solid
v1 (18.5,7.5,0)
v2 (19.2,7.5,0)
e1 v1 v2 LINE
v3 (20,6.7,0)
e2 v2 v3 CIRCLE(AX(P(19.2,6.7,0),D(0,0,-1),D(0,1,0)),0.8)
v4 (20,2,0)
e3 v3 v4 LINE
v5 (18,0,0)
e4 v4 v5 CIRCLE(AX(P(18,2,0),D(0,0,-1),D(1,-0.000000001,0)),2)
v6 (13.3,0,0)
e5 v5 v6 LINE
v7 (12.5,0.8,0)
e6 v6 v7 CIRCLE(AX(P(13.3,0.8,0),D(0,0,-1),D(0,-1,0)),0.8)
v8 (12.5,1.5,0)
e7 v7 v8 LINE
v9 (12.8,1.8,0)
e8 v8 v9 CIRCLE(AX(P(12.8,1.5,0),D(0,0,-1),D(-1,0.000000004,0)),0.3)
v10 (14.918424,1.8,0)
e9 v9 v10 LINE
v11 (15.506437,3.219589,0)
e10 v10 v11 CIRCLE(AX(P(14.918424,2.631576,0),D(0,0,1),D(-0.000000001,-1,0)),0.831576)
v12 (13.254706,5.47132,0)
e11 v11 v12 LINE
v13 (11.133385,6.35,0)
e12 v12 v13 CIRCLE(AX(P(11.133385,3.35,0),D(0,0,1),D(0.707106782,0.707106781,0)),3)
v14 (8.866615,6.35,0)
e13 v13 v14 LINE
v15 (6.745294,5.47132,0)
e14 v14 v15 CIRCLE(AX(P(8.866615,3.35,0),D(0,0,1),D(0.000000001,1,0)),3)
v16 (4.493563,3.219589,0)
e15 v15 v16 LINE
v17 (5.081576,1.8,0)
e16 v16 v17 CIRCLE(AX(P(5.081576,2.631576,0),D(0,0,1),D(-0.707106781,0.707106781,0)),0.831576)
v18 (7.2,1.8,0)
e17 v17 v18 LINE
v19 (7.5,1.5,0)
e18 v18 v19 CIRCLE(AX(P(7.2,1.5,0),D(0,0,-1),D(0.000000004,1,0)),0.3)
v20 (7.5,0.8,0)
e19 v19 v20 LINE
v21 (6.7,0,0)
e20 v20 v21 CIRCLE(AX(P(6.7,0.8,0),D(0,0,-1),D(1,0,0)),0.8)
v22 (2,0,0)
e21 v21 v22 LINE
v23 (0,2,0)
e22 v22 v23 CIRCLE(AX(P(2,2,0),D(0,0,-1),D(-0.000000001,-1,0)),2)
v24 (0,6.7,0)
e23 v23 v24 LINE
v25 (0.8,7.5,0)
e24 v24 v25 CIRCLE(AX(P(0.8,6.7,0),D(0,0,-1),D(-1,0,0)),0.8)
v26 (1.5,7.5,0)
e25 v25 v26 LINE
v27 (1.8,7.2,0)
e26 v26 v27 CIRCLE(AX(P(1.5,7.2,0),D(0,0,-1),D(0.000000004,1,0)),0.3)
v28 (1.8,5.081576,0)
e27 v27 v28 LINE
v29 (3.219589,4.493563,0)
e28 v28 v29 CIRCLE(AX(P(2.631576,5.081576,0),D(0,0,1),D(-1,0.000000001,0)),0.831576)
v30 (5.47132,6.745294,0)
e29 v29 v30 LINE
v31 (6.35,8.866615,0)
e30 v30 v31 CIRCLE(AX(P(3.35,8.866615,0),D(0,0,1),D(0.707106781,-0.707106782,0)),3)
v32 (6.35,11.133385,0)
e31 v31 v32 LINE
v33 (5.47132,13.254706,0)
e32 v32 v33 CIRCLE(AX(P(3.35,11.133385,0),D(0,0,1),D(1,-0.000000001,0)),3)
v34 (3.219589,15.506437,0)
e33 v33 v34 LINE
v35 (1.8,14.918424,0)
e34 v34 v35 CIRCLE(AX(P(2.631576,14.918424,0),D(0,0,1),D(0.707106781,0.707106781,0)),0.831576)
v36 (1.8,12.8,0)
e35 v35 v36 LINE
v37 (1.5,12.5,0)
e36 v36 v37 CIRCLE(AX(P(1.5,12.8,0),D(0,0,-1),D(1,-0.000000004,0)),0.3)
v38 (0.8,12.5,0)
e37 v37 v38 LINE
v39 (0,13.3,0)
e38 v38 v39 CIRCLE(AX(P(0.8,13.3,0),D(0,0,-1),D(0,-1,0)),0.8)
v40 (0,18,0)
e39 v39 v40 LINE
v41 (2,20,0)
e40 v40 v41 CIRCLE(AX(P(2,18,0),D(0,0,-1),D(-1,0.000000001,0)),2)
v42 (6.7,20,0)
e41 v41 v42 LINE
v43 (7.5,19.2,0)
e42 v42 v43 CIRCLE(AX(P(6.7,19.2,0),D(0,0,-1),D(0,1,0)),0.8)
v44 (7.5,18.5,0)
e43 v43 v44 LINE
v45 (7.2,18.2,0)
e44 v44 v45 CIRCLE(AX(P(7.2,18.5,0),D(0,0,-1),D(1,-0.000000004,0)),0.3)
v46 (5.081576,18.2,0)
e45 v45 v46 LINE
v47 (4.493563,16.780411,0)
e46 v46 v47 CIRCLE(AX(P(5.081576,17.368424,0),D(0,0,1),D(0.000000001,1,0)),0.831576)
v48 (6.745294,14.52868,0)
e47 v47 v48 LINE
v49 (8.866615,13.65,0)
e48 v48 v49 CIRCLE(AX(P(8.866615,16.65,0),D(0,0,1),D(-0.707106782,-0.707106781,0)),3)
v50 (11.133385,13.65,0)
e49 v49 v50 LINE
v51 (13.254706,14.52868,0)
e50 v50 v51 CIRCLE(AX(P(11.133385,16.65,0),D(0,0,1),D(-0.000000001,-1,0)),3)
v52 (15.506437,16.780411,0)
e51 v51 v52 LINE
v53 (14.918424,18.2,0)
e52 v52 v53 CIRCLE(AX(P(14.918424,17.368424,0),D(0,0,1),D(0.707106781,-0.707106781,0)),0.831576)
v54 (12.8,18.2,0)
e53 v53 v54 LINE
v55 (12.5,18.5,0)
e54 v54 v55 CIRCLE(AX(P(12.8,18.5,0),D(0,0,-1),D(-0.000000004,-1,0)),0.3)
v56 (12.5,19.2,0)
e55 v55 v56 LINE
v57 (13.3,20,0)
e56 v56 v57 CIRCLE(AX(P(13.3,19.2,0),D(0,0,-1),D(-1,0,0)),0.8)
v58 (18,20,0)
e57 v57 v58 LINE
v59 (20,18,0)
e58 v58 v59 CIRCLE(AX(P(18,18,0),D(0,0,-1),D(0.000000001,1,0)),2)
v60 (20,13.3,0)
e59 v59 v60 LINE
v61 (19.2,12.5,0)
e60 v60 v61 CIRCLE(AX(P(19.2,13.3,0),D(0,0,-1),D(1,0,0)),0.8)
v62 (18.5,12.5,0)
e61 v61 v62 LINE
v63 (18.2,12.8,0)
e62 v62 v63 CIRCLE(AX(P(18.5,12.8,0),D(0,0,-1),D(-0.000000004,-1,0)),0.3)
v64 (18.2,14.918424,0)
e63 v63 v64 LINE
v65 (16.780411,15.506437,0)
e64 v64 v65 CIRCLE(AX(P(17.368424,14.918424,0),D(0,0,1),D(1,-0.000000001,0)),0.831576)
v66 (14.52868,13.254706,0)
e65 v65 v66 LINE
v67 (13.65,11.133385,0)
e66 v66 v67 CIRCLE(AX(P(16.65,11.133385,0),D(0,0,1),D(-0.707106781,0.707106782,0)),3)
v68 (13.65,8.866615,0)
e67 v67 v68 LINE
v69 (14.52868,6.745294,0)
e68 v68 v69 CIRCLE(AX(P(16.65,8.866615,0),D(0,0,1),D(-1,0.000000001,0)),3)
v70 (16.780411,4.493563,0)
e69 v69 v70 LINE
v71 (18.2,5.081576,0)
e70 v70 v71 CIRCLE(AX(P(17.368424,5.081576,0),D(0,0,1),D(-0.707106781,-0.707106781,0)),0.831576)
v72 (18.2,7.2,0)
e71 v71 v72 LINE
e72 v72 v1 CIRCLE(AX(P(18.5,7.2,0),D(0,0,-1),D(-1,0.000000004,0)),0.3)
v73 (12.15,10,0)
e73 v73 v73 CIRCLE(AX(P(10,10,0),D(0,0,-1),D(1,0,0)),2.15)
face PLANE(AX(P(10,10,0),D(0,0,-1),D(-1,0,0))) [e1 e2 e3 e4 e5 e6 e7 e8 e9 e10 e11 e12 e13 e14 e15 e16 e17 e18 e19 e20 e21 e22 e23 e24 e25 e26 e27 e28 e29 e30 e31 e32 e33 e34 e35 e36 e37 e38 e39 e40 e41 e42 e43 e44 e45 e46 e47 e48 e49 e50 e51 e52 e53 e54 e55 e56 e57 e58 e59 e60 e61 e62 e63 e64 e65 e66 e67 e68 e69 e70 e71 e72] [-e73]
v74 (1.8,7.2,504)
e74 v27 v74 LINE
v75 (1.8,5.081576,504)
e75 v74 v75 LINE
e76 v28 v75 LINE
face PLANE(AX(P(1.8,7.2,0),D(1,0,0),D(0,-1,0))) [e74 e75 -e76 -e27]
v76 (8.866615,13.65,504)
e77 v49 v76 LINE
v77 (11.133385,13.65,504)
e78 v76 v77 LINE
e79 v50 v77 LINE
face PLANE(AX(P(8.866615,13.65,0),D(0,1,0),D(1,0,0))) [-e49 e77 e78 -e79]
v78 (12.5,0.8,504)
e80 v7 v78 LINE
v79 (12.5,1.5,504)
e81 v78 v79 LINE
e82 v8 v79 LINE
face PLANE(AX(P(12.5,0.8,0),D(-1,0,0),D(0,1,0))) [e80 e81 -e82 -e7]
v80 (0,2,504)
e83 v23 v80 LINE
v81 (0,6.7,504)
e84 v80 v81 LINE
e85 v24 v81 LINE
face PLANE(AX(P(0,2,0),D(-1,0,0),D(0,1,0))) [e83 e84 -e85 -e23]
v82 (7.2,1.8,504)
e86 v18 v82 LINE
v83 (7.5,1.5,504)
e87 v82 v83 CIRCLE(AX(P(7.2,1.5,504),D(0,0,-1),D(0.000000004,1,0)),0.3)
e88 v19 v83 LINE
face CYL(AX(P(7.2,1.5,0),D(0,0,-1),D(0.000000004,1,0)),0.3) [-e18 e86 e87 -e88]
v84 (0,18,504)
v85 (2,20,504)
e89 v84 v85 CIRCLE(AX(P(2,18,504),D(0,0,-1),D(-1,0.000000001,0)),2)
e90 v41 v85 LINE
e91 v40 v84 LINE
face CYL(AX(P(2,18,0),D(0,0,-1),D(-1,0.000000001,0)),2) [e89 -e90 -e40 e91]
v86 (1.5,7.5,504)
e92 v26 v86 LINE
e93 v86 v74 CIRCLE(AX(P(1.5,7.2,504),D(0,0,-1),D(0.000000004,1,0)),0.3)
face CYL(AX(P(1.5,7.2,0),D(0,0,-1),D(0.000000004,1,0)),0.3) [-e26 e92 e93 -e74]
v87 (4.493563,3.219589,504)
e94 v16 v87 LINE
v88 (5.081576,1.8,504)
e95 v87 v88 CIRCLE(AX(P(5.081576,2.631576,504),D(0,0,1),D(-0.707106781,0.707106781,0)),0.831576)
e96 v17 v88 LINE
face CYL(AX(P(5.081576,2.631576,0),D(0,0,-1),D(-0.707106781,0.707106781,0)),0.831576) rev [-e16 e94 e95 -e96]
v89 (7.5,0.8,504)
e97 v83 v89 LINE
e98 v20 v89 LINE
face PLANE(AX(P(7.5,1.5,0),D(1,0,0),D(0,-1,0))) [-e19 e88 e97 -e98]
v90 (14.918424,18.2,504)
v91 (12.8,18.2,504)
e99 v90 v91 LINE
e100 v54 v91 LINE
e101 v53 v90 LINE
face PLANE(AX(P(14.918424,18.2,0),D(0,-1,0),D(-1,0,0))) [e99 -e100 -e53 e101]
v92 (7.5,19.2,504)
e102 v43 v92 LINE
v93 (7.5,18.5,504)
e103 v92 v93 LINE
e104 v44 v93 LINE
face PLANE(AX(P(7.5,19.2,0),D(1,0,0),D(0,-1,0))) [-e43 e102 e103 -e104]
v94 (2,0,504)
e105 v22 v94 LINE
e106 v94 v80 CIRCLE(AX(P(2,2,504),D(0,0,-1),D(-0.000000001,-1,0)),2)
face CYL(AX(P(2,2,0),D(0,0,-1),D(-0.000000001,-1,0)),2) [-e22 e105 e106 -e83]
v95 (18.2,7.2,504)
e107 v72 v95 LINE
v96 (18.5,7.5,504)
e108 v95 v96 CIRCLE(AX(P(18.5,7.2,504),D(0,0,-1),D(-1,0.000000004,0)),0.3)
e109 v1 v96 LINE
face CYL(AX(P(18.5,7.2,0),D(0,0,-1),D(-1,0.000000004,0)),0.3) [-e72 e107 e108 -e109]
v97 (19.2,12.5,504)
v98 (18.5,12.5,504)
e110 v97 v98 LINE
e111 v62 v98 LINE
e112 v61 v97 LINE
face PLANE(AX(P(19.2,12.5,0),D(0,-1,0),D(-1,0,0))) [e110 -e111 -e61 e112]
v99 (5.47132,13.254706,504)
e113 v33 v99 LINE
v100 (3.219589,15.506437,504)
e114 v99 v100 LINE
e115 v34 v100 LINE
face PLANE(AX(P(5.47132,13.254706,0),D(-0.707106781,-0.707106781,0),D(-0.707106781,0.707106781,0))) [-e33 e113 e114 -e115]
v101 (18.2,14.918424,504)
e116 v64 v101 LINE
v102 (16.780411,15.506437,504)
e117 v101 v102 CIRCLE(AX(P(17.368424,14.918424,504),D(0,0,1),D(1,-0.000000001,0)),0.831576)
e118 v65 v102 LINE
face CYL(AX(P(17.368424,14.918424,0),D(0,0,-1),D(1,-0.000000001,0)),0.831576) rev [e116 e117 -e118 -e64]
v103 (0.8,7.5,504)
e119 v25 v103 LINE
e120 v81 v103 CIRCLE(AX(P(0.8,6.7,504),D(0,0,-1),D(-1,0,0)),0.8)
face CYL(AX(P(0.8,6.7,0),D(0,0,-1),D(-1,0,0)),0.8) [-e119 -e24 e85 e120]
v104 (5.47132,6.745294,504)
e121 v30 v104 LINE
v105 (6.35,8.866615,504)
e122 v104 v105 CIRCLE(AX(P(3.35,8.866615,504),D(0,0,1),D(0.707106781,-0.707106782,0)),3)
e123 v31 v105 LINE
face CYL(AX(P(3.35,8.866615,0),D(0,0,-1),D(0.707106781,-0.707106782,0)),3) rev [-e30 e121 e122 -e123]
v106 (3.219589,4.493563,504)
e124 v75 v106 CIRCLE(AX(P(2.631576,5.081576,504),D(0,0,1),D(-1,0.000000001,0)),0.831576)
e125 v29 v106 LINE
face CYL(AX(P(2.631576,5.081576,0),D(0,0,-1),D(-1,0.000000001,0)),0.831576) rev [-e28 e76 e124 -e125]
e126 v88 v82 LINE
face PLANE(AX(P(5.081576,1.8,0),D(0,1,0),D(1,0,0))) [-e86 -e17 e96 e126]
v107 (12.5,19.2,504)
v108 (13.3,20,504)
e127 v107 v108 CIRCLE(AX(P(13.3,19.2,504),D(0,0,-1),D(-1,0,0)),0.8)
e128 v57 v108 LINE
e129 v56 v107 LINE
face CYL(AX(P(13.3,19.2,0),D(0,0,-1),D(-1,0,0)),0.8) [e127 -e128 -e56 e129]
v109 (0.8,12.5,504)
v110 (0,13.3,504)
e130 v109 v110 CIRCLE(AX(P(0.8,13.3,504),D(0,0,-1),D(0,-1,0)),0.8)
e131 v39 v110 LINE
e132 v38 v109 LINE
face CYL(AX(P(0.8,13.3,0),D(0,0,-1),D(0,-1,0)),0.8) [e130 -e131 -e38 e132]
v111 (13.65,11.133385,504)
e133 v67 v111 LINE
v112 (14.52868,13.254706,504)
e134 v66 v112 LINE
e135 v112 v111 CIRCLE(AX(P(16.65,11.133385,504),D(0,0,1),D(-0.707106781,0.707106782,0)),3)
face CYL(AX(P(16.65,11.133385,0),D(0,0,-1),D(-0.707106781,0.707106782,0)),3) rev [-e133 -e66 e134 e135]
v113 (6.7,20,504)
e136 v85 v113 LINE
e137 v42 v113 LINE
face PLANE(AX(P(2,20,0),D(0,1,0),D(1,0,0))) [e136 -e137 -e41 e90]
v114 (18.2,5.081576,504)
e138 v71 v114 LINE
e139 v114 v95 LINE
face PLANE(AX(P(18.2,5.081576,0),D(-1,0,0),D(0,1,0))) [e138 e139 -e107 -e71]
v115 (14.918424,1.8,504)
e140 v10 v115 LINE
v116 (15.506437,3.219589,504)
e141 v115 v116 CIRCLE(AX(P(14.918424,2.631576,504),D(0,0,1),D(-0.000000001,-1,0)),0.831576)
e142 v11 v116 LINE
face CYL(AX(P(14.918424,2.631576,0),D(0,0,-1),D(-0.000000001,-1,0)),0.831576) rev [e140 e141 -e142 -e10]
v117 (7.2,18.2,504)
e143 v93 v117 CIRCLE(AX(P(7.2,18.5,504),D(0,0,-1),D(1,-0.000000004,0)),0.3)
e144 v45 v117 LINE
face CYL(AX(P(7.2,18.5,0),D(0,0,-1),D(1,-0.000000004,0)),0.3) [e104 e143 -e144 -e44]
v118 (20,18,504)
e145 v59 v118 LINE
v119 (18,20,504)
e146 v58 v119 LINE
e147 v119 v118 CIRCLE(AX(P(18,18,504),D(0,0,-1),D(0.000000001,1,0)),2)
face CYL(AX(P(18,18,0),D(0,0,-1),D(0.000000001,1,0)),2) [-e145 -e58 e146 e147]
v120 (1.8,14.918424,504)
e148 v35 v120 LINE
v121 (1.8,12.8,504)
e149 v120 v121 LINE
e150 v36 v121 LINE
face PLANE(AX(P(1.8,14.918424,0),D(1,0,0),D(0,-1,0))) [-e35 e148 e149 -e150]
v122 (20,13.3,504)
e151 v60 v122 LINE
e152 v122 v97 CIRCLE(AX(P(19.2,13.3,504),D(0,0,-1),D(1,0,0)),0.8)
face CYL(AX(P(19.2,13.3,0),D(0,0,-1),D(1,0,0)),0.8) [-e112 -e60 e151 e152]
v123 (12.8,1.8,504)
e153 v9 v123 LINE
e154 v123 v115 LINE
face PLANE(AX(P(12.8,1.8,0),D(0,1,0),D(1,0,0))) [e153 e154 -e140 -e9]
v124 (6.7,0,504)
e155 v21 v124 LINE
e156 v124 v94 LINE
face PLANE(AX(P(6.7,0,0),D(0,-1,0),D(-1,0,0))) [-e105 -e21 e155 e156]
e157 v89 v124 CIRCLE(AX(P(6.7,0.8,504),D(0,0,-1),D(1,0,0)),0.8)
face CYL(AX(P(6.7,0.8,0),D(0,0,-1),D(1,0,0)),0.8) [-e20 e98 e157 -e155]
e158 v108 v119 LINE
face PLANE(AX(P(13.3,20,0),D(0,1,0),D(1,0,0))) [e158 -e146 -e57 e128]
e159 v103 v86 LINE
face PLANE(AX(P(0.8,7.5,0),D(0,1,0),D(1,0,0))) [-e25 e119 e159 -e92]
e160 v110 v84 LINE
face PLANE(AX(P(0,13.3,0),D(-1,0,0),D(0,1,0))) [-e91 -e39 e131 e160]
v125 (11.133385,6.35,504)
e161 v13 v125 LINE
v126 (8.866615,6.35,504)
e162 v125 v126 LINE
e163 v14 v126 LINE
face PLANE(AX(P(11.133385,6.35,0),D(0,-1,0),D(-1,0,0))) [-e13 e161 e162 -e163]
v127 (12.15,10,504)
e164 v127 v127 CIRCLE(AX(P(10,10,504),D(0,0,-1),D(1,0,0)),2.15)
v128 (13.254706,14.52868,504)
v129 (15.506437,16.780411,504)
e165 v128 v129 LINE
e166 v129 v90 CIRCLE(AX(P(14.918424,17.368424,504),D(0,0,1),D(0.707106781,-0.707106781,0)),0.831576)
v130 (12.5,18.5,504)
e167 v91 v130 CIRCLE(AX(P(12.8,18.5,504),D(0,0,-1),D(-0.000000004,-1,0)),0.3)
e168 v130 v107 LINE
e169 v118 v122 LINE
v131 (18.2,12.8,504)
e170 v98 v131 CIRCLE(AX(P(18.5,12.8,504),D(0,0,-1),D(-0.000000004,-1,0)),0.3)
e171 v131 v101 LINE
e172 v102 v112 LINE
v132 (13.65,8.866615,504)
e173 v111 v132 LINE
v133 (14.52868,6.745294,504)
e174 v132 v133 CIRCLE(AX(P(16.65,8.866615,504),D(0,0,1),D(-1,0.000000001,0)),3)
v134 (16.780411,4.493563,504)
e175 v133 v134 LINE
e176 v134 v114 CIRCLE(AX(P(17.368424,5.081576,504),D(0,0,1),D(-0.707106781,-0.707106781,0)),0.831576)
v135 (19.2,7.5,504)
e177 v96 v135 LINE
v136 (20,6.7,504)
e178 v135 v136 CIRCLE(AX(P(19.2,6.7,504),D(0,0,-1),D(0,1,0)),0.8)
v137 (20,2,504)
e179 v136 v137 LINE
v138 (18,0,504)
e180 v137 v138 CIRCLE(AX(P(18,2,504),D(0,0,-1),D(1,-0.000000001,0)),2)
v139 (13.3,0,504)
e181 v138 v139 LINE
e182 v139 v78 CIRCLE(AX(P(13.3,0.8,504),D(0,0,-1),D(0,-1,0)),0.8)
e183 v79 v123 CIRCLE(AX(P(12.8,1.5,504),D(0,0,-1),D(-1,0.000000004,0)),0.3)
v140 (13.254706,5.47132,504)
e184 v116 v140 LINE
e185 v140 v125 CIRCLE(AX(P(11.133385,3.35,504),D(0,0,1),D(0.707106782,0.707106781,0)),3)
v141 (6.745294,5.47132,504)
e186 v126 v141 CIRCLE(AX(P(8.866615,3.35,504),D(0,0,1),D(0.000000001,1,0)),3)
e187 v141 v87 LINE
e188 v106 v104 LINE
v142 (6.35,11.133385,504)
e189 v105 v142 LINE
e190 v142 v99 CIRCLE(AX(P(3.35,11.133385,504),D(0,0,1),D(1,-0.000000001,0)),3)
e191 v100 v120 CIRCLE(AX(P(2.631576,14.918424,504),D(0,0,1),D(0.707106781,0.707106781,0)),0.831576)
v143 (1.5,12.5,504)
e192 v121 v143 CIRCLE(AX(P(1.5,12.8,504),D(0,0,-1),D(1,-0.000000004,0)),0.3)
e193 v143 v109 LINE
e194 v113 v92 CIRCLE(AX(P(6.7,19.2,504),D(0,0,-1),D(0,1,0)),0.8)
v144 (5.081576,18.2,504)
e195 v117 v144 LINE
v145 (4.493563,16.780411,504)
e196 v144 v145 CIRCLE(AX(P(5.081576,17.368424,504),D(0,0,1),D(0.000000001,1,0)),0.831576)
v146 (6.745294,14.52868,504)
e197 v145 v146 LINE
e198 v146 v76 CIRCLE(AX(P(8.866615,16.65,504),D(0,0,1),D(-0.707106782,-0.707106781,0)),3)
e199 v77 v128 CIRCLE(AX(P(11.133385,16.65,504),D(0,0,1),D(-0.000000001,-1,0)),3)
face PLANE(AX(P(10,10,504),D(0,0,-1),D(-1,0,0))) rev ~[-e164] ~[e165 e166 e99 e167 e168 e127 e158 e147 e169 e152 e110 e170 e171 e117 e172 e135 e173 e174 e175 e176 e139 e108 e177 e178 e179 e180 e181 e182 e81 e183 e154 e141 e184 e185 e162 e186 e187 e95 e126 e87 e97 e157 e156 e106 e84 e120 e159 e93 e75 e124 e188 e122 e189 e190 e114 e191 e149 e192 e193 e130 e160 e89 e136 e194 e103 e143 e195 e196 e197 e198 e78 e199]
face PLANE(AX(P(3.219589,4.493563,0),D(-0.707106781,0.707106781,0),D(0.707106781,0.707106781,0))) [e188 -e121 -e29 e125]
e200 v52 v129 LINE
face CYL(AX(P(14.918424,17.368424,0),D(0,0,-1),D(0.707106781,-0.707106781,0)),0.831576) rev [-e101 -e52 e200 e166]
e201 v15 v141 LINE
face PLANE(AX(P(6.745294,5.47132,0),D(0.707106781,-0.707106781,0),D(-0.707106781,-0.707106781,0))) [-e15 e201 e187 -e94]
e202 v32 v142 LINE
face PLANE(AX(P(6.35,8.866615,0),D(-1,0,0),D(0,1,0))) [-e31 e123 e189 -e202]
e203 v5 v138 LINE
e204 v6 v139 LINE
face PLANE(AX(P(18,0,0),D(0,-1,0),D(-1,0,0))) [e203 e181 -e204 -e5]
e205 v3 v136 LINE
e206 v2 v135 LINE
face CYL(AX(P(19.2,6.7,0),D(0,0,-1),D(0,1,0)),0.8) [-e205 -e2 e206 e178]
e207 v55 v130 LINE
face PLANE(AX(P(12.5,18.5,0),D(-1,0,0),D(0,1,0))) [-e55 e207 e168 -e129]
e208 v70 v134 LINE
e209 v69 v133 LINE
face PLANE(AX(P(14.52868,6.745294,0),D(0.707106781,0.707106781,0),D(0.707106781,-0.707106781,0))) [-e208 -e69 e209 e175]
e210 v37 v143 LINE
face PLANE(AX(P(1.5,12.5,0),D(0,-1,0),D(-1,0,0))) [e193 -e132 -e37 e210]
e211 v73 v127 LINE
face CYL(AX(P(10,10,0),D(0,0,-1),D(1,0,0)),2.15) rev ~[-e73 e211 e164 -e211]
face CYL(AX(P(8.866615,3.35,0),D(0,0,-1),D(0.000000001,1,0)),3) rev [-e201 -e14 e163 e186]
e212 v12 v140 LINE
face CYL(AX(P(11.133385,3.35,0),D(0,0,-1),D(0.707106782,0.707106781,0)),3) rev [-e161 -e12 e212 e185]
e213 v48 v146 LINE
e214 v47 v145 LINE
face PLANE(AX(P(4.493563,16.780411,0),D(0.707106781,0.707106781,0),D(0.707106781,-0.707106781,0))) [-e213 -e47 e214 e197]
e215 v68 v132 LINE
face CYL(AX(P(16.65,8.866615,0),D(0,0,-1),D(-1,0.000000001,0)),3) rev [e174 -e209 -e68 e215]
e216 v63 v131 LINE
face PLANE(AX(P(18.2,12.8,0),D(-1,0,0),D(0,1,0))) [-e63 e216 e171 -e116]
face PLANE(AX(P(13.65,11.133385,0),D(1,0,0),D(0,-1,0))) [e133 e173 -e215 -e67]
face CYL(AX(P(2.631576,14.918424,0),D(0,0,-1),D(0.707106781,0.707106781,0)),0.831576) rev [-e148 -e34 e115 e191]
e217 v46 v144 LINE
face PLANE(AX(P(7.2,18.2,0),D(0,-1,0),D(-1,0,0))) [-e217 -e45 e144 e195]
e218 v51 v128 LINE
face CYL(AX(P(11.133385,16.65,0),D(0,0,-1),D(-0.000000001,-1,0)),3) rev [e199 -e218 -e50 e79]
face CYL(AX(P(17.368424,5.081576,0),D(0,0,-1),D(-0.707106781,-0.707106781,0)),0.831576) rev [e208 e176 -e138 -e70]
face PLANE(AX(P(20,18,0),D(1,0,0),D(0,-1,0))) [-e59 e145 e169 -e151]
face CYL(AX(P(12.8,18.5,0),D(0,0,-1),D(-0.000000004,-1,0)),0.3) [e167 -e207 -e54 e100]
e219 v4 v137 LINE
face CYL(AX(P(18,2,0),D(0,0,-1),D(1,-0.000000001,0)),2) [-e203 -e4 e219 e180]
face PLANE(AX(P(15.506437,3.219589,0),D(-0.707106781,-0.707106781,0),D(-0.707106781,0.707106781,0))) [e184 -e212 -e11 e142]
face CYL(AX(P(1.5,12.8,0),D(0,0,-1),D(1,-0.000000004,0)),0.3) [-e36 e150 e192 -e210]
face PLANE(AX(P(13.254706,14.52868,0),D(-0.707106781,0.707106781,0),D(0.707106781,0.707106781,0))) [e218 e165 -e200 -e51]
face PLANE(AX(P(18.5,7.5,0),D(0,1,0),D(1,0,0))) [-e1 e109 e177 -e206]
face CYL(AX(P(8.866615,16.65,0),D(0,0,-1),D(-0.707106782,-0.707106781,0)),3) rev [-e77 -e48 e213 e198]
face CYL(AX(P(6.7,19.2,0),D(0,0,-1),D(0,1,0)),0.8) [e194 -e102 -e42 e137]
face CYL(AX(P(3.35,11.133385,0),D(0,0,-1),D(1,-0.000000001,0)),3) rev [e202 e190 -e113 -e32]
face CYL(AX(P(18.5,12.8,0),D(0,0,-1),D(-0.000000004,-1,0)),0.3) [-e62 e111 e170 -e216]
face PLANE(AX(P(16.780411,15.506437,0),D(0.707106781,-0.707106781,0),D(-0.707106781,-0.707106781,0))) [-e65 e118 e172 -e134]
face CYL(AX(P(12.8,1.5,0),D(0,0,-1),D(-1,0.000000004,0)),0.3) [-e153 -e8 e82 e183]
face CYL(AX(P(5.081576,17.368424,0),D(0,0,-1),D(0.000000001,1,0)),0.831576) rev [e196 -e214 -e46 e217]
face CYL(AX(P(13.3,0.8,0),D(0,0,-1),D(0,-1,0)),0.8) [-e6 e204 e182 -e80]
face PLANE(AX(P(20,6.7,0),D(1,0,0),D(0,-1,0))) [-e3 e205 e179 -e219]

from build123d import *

# Parameters (mm, degrees)
ESQUISSE1_R        = 2.15
BOSS_EXTRU_1_DEPTH = 504


with BuildPart() as part:
    # Esquisse1 → Boss.-Extru.1 (new body)
    with BuildSketch(Plane(origin=(0, 0, 0), x_dir=(-1, 0, 0), z_dir=(0, 0, -1))):
        with BuildLine():
            Line((-20, 6.7), (-20, 2))
            ThreePointArc((-20, 2), (-19.414213562, 0.585786438), (-18, 0))
            Line((-18, 0), (-13.3, 0))
            ThreePointArc((-13.3, 0), (-12.734314575, 0.234314575), (-12.5, 0.8))
            Line((-12.5, 0.8), (-12.5, 1.5))
            ThreePointArc((-12.5, 1.5), (-12.587867966, 1.712132034), (-12.8, 1.8))
            Line((-12.8, 1.8), (-14.918424061, 1.8))
            ThreePointArc((-14.918424061, 1.8), (-15.686700051, 2.313345604), (-15.506437047, 3.219588924))
            Line((-15.506437047, 3.219588924), (-13.254705627, 5.471320344))
            ThreePointArc((-13.254705627, 5.471320344), (-12.281435581, 6.121638598), (-11.133385284, 6.35))
            Line((-11.133385284, 6.35), (-8.866614716, 6.35))
            ThreePointArc((-8.866614716, 6.35), (-7.718564419, 6.121638598), (-6.745294373, 5.471320344))
            Line((-6.745294373, 5.471320344), (-4.493562953, 3.219588924))
            ThreePointArc((-4.493562953, 3.219588924), (-4.313299949, 2.313345604), (-5.081575939, 1.8))
            Line((-5.081575939, 1.8), (-7.2, 1.8))
            ThreePointArc((-7.2, 1.8), (-7.412132034, 1.712132034), (-7.5, 1.5))
            Line((-7.5, 1.5), (-7.5, 0.8))
            ThreePointArc((-7.5, 0.8), (-7.265685425, 0.234314575), (-6.7, 0))
            Line((-6.7, 0), (-2, 0))
            ThreePointArc((-2, 0), (-0.585786438, 0.585786438), (0, 2))
            Line((0, 2), (0, 6.7))
            ThreePointArc((0, 6.7), (-0.234314575, 7.265685425), (-0.8, 7.5))
            Line((-0.8, 7.5), (-1.5, 7.5))
            ThreePointArc((-1.5, 7.5), (-1.712132034, 7.412132034), (-1.8, 7.2))
            Line((-1.8, 7.2), (-1.8, 5.081575939))
            ThreePointArc((-1.8, 5.081575939), (-2.313345604, 4.313299949), (-3.219588924, 4.493562953))
            Line((-3.219588924, 4.493562953), (-5.471320344, 6.745294373))
            ThreePointArc((-5.471320344, 6.745294373), (-6.121638598, 7.718564419), (-6.35, 8.866614716))
            Line((-6.35, 8.866614716), (-6.35, 11.133385284))
            ThreePointArc((-6.35, 11.133385284), (-6.121638598, 12.281435581), (-5.471320344, 13.254705627))
            Line((-5.471320344, 13.254705627), (-3.219588924, 15.506437047))
            ThreePointArc((-3.219588924, 15.506437047), (-2.313345604, 15.686700051), (-1.8, 14.918424061))
            Line((-1.8, 14.918424061), (-1.8, 12.8))
            ThreePointArc((-1.8, 12.8), (-1.712132034, 12.587867966), (-1.5, 12.5))
            Line((-1.5, 12.5), (-0.8, 12.5))
            ThreePointArc((-0.8, 12.5), (-0.234314575, 12.734314575), (0, 13.3))
            Line((0, 13.3), (0, 18))
            ThreePointArc((0, 18), (-0.585786438, 19.414213562), (-2, 20))
            Line((-2, 20), (-6.7, 20))
            ThreePointArc((-6.7, 20), (-7.265685425, 19.765685425), (-7.5, 19.2))
            Line((-7.5, 19.2), (-7.5, 18.5))
            ThreePointArc((-7.5, 18.5), (-7.412132034, 18.287867966), (-7.2, 18.2))
            Line((-7.2, 18.2), (-5.081575939, 18.2))
            ThreePointArc((-5.081575939, 18.2), (-4.313299949, 17.686654396), (-4.493562953, 16.780411076))
            Line((-4.493562953, 16.780411076), (-6.745294373, 14.528679656))
            ThreePointArc((-6.745294373, 14.528679656), (-7.718564419, 13.878361402), (-8.866614716, 13.65))
            Line((-8.866614716, 13.65), (-11.133385284, 13.65))
            ThreePointArc((-11.133385284, 13.65), (-12.281435581, 13.878361402), (-13.254705627, 14.528679656))
            Line((-13.254705627, 14.528679656), (-15.506437047, 16.780411076))
            ThreePointArc((-15.506437047, 16.780411076), (-15.686700051, 17.686654396), (-14.918424061, 18.2))
            Line((-14.918424061, 18.2), (-12.8, 18.2))
            ThreePointArc((-12.8, 18.2), (-12.587867966, 18.287867966), (-12.5, 18.5))
            Line((-12.5, 18.5), (-12.5, 19.2))
            ThreePointArc((-12.5, 19.2), (-12.734314575, 19.765685425), (-13.3, 20))
            Line((-13.3, 20), (-18, 20))
            ThreePointArc((-18, 20), (-19.414213562, 19.414213562), (-20, 18))
            Line((-20, 18), (-20, 13.3))
            ThreePointArc((-20, 13.3), (-19.765685425, 12.734314575), (-19.2, 12.5))
            Line((-19.2, 12.5), (-18.5, 12.5))
            ThreePointArc((-18.5, 12.5), (-18.287867966, 12.587867966), (-18.2, 12.8))
            Line((-18.2, 12.8), (-18.2, 14.918424061))
            ThreePointArc((-18.2, 14.918424061), (-17.686654396, 15.686700051), (-16.780411076, 15.506437047))
            Line((-16.780411076, 15.506437047), (-14.528679656, 13.254705627))
            ThreePointArc((-14.528679656, 13.254705627), (-13.878361402, 12.281435581), (-13.65, 11.133385284))
            Line((-13.65, 11.133385284), (-13.65, 8.866614716))
            ThreePointArc((-13.65, 8.866614716), (-13.878361402, 7.718564419), (-14.528679656, 6.745294373))
            Line((-14.528679656, 6.745294373), (-16.780411076, 4.493562953))
            ThreePointArc((-16.780411076, 4.493562953), (-17.686654396, 4.313299949), (-18.2, 5.081575939))
            Line((-18.2, 5.081575939), (-18.2, 7.2))
            ThreePointArc((-18.2, 7.2), (-18.287867966, 7.412132034), (-18.5, 7.5))
            Line((-18.5, 7.5), (-19.2, 7.5))
            ThreePointArc((-19.2, 7.5), (-19.765685425, 7.265685425), (-20, 6.7))
        make_face()
        with Locations(Location((-10, 10, 0), (0, 0, 180))):
            Circle(ESQUISSE1_R, mode=Mode.SUBTRACT)
    extrude(amount=-BOSS_EXTRU_1_DEPTH)


solid = part.part
